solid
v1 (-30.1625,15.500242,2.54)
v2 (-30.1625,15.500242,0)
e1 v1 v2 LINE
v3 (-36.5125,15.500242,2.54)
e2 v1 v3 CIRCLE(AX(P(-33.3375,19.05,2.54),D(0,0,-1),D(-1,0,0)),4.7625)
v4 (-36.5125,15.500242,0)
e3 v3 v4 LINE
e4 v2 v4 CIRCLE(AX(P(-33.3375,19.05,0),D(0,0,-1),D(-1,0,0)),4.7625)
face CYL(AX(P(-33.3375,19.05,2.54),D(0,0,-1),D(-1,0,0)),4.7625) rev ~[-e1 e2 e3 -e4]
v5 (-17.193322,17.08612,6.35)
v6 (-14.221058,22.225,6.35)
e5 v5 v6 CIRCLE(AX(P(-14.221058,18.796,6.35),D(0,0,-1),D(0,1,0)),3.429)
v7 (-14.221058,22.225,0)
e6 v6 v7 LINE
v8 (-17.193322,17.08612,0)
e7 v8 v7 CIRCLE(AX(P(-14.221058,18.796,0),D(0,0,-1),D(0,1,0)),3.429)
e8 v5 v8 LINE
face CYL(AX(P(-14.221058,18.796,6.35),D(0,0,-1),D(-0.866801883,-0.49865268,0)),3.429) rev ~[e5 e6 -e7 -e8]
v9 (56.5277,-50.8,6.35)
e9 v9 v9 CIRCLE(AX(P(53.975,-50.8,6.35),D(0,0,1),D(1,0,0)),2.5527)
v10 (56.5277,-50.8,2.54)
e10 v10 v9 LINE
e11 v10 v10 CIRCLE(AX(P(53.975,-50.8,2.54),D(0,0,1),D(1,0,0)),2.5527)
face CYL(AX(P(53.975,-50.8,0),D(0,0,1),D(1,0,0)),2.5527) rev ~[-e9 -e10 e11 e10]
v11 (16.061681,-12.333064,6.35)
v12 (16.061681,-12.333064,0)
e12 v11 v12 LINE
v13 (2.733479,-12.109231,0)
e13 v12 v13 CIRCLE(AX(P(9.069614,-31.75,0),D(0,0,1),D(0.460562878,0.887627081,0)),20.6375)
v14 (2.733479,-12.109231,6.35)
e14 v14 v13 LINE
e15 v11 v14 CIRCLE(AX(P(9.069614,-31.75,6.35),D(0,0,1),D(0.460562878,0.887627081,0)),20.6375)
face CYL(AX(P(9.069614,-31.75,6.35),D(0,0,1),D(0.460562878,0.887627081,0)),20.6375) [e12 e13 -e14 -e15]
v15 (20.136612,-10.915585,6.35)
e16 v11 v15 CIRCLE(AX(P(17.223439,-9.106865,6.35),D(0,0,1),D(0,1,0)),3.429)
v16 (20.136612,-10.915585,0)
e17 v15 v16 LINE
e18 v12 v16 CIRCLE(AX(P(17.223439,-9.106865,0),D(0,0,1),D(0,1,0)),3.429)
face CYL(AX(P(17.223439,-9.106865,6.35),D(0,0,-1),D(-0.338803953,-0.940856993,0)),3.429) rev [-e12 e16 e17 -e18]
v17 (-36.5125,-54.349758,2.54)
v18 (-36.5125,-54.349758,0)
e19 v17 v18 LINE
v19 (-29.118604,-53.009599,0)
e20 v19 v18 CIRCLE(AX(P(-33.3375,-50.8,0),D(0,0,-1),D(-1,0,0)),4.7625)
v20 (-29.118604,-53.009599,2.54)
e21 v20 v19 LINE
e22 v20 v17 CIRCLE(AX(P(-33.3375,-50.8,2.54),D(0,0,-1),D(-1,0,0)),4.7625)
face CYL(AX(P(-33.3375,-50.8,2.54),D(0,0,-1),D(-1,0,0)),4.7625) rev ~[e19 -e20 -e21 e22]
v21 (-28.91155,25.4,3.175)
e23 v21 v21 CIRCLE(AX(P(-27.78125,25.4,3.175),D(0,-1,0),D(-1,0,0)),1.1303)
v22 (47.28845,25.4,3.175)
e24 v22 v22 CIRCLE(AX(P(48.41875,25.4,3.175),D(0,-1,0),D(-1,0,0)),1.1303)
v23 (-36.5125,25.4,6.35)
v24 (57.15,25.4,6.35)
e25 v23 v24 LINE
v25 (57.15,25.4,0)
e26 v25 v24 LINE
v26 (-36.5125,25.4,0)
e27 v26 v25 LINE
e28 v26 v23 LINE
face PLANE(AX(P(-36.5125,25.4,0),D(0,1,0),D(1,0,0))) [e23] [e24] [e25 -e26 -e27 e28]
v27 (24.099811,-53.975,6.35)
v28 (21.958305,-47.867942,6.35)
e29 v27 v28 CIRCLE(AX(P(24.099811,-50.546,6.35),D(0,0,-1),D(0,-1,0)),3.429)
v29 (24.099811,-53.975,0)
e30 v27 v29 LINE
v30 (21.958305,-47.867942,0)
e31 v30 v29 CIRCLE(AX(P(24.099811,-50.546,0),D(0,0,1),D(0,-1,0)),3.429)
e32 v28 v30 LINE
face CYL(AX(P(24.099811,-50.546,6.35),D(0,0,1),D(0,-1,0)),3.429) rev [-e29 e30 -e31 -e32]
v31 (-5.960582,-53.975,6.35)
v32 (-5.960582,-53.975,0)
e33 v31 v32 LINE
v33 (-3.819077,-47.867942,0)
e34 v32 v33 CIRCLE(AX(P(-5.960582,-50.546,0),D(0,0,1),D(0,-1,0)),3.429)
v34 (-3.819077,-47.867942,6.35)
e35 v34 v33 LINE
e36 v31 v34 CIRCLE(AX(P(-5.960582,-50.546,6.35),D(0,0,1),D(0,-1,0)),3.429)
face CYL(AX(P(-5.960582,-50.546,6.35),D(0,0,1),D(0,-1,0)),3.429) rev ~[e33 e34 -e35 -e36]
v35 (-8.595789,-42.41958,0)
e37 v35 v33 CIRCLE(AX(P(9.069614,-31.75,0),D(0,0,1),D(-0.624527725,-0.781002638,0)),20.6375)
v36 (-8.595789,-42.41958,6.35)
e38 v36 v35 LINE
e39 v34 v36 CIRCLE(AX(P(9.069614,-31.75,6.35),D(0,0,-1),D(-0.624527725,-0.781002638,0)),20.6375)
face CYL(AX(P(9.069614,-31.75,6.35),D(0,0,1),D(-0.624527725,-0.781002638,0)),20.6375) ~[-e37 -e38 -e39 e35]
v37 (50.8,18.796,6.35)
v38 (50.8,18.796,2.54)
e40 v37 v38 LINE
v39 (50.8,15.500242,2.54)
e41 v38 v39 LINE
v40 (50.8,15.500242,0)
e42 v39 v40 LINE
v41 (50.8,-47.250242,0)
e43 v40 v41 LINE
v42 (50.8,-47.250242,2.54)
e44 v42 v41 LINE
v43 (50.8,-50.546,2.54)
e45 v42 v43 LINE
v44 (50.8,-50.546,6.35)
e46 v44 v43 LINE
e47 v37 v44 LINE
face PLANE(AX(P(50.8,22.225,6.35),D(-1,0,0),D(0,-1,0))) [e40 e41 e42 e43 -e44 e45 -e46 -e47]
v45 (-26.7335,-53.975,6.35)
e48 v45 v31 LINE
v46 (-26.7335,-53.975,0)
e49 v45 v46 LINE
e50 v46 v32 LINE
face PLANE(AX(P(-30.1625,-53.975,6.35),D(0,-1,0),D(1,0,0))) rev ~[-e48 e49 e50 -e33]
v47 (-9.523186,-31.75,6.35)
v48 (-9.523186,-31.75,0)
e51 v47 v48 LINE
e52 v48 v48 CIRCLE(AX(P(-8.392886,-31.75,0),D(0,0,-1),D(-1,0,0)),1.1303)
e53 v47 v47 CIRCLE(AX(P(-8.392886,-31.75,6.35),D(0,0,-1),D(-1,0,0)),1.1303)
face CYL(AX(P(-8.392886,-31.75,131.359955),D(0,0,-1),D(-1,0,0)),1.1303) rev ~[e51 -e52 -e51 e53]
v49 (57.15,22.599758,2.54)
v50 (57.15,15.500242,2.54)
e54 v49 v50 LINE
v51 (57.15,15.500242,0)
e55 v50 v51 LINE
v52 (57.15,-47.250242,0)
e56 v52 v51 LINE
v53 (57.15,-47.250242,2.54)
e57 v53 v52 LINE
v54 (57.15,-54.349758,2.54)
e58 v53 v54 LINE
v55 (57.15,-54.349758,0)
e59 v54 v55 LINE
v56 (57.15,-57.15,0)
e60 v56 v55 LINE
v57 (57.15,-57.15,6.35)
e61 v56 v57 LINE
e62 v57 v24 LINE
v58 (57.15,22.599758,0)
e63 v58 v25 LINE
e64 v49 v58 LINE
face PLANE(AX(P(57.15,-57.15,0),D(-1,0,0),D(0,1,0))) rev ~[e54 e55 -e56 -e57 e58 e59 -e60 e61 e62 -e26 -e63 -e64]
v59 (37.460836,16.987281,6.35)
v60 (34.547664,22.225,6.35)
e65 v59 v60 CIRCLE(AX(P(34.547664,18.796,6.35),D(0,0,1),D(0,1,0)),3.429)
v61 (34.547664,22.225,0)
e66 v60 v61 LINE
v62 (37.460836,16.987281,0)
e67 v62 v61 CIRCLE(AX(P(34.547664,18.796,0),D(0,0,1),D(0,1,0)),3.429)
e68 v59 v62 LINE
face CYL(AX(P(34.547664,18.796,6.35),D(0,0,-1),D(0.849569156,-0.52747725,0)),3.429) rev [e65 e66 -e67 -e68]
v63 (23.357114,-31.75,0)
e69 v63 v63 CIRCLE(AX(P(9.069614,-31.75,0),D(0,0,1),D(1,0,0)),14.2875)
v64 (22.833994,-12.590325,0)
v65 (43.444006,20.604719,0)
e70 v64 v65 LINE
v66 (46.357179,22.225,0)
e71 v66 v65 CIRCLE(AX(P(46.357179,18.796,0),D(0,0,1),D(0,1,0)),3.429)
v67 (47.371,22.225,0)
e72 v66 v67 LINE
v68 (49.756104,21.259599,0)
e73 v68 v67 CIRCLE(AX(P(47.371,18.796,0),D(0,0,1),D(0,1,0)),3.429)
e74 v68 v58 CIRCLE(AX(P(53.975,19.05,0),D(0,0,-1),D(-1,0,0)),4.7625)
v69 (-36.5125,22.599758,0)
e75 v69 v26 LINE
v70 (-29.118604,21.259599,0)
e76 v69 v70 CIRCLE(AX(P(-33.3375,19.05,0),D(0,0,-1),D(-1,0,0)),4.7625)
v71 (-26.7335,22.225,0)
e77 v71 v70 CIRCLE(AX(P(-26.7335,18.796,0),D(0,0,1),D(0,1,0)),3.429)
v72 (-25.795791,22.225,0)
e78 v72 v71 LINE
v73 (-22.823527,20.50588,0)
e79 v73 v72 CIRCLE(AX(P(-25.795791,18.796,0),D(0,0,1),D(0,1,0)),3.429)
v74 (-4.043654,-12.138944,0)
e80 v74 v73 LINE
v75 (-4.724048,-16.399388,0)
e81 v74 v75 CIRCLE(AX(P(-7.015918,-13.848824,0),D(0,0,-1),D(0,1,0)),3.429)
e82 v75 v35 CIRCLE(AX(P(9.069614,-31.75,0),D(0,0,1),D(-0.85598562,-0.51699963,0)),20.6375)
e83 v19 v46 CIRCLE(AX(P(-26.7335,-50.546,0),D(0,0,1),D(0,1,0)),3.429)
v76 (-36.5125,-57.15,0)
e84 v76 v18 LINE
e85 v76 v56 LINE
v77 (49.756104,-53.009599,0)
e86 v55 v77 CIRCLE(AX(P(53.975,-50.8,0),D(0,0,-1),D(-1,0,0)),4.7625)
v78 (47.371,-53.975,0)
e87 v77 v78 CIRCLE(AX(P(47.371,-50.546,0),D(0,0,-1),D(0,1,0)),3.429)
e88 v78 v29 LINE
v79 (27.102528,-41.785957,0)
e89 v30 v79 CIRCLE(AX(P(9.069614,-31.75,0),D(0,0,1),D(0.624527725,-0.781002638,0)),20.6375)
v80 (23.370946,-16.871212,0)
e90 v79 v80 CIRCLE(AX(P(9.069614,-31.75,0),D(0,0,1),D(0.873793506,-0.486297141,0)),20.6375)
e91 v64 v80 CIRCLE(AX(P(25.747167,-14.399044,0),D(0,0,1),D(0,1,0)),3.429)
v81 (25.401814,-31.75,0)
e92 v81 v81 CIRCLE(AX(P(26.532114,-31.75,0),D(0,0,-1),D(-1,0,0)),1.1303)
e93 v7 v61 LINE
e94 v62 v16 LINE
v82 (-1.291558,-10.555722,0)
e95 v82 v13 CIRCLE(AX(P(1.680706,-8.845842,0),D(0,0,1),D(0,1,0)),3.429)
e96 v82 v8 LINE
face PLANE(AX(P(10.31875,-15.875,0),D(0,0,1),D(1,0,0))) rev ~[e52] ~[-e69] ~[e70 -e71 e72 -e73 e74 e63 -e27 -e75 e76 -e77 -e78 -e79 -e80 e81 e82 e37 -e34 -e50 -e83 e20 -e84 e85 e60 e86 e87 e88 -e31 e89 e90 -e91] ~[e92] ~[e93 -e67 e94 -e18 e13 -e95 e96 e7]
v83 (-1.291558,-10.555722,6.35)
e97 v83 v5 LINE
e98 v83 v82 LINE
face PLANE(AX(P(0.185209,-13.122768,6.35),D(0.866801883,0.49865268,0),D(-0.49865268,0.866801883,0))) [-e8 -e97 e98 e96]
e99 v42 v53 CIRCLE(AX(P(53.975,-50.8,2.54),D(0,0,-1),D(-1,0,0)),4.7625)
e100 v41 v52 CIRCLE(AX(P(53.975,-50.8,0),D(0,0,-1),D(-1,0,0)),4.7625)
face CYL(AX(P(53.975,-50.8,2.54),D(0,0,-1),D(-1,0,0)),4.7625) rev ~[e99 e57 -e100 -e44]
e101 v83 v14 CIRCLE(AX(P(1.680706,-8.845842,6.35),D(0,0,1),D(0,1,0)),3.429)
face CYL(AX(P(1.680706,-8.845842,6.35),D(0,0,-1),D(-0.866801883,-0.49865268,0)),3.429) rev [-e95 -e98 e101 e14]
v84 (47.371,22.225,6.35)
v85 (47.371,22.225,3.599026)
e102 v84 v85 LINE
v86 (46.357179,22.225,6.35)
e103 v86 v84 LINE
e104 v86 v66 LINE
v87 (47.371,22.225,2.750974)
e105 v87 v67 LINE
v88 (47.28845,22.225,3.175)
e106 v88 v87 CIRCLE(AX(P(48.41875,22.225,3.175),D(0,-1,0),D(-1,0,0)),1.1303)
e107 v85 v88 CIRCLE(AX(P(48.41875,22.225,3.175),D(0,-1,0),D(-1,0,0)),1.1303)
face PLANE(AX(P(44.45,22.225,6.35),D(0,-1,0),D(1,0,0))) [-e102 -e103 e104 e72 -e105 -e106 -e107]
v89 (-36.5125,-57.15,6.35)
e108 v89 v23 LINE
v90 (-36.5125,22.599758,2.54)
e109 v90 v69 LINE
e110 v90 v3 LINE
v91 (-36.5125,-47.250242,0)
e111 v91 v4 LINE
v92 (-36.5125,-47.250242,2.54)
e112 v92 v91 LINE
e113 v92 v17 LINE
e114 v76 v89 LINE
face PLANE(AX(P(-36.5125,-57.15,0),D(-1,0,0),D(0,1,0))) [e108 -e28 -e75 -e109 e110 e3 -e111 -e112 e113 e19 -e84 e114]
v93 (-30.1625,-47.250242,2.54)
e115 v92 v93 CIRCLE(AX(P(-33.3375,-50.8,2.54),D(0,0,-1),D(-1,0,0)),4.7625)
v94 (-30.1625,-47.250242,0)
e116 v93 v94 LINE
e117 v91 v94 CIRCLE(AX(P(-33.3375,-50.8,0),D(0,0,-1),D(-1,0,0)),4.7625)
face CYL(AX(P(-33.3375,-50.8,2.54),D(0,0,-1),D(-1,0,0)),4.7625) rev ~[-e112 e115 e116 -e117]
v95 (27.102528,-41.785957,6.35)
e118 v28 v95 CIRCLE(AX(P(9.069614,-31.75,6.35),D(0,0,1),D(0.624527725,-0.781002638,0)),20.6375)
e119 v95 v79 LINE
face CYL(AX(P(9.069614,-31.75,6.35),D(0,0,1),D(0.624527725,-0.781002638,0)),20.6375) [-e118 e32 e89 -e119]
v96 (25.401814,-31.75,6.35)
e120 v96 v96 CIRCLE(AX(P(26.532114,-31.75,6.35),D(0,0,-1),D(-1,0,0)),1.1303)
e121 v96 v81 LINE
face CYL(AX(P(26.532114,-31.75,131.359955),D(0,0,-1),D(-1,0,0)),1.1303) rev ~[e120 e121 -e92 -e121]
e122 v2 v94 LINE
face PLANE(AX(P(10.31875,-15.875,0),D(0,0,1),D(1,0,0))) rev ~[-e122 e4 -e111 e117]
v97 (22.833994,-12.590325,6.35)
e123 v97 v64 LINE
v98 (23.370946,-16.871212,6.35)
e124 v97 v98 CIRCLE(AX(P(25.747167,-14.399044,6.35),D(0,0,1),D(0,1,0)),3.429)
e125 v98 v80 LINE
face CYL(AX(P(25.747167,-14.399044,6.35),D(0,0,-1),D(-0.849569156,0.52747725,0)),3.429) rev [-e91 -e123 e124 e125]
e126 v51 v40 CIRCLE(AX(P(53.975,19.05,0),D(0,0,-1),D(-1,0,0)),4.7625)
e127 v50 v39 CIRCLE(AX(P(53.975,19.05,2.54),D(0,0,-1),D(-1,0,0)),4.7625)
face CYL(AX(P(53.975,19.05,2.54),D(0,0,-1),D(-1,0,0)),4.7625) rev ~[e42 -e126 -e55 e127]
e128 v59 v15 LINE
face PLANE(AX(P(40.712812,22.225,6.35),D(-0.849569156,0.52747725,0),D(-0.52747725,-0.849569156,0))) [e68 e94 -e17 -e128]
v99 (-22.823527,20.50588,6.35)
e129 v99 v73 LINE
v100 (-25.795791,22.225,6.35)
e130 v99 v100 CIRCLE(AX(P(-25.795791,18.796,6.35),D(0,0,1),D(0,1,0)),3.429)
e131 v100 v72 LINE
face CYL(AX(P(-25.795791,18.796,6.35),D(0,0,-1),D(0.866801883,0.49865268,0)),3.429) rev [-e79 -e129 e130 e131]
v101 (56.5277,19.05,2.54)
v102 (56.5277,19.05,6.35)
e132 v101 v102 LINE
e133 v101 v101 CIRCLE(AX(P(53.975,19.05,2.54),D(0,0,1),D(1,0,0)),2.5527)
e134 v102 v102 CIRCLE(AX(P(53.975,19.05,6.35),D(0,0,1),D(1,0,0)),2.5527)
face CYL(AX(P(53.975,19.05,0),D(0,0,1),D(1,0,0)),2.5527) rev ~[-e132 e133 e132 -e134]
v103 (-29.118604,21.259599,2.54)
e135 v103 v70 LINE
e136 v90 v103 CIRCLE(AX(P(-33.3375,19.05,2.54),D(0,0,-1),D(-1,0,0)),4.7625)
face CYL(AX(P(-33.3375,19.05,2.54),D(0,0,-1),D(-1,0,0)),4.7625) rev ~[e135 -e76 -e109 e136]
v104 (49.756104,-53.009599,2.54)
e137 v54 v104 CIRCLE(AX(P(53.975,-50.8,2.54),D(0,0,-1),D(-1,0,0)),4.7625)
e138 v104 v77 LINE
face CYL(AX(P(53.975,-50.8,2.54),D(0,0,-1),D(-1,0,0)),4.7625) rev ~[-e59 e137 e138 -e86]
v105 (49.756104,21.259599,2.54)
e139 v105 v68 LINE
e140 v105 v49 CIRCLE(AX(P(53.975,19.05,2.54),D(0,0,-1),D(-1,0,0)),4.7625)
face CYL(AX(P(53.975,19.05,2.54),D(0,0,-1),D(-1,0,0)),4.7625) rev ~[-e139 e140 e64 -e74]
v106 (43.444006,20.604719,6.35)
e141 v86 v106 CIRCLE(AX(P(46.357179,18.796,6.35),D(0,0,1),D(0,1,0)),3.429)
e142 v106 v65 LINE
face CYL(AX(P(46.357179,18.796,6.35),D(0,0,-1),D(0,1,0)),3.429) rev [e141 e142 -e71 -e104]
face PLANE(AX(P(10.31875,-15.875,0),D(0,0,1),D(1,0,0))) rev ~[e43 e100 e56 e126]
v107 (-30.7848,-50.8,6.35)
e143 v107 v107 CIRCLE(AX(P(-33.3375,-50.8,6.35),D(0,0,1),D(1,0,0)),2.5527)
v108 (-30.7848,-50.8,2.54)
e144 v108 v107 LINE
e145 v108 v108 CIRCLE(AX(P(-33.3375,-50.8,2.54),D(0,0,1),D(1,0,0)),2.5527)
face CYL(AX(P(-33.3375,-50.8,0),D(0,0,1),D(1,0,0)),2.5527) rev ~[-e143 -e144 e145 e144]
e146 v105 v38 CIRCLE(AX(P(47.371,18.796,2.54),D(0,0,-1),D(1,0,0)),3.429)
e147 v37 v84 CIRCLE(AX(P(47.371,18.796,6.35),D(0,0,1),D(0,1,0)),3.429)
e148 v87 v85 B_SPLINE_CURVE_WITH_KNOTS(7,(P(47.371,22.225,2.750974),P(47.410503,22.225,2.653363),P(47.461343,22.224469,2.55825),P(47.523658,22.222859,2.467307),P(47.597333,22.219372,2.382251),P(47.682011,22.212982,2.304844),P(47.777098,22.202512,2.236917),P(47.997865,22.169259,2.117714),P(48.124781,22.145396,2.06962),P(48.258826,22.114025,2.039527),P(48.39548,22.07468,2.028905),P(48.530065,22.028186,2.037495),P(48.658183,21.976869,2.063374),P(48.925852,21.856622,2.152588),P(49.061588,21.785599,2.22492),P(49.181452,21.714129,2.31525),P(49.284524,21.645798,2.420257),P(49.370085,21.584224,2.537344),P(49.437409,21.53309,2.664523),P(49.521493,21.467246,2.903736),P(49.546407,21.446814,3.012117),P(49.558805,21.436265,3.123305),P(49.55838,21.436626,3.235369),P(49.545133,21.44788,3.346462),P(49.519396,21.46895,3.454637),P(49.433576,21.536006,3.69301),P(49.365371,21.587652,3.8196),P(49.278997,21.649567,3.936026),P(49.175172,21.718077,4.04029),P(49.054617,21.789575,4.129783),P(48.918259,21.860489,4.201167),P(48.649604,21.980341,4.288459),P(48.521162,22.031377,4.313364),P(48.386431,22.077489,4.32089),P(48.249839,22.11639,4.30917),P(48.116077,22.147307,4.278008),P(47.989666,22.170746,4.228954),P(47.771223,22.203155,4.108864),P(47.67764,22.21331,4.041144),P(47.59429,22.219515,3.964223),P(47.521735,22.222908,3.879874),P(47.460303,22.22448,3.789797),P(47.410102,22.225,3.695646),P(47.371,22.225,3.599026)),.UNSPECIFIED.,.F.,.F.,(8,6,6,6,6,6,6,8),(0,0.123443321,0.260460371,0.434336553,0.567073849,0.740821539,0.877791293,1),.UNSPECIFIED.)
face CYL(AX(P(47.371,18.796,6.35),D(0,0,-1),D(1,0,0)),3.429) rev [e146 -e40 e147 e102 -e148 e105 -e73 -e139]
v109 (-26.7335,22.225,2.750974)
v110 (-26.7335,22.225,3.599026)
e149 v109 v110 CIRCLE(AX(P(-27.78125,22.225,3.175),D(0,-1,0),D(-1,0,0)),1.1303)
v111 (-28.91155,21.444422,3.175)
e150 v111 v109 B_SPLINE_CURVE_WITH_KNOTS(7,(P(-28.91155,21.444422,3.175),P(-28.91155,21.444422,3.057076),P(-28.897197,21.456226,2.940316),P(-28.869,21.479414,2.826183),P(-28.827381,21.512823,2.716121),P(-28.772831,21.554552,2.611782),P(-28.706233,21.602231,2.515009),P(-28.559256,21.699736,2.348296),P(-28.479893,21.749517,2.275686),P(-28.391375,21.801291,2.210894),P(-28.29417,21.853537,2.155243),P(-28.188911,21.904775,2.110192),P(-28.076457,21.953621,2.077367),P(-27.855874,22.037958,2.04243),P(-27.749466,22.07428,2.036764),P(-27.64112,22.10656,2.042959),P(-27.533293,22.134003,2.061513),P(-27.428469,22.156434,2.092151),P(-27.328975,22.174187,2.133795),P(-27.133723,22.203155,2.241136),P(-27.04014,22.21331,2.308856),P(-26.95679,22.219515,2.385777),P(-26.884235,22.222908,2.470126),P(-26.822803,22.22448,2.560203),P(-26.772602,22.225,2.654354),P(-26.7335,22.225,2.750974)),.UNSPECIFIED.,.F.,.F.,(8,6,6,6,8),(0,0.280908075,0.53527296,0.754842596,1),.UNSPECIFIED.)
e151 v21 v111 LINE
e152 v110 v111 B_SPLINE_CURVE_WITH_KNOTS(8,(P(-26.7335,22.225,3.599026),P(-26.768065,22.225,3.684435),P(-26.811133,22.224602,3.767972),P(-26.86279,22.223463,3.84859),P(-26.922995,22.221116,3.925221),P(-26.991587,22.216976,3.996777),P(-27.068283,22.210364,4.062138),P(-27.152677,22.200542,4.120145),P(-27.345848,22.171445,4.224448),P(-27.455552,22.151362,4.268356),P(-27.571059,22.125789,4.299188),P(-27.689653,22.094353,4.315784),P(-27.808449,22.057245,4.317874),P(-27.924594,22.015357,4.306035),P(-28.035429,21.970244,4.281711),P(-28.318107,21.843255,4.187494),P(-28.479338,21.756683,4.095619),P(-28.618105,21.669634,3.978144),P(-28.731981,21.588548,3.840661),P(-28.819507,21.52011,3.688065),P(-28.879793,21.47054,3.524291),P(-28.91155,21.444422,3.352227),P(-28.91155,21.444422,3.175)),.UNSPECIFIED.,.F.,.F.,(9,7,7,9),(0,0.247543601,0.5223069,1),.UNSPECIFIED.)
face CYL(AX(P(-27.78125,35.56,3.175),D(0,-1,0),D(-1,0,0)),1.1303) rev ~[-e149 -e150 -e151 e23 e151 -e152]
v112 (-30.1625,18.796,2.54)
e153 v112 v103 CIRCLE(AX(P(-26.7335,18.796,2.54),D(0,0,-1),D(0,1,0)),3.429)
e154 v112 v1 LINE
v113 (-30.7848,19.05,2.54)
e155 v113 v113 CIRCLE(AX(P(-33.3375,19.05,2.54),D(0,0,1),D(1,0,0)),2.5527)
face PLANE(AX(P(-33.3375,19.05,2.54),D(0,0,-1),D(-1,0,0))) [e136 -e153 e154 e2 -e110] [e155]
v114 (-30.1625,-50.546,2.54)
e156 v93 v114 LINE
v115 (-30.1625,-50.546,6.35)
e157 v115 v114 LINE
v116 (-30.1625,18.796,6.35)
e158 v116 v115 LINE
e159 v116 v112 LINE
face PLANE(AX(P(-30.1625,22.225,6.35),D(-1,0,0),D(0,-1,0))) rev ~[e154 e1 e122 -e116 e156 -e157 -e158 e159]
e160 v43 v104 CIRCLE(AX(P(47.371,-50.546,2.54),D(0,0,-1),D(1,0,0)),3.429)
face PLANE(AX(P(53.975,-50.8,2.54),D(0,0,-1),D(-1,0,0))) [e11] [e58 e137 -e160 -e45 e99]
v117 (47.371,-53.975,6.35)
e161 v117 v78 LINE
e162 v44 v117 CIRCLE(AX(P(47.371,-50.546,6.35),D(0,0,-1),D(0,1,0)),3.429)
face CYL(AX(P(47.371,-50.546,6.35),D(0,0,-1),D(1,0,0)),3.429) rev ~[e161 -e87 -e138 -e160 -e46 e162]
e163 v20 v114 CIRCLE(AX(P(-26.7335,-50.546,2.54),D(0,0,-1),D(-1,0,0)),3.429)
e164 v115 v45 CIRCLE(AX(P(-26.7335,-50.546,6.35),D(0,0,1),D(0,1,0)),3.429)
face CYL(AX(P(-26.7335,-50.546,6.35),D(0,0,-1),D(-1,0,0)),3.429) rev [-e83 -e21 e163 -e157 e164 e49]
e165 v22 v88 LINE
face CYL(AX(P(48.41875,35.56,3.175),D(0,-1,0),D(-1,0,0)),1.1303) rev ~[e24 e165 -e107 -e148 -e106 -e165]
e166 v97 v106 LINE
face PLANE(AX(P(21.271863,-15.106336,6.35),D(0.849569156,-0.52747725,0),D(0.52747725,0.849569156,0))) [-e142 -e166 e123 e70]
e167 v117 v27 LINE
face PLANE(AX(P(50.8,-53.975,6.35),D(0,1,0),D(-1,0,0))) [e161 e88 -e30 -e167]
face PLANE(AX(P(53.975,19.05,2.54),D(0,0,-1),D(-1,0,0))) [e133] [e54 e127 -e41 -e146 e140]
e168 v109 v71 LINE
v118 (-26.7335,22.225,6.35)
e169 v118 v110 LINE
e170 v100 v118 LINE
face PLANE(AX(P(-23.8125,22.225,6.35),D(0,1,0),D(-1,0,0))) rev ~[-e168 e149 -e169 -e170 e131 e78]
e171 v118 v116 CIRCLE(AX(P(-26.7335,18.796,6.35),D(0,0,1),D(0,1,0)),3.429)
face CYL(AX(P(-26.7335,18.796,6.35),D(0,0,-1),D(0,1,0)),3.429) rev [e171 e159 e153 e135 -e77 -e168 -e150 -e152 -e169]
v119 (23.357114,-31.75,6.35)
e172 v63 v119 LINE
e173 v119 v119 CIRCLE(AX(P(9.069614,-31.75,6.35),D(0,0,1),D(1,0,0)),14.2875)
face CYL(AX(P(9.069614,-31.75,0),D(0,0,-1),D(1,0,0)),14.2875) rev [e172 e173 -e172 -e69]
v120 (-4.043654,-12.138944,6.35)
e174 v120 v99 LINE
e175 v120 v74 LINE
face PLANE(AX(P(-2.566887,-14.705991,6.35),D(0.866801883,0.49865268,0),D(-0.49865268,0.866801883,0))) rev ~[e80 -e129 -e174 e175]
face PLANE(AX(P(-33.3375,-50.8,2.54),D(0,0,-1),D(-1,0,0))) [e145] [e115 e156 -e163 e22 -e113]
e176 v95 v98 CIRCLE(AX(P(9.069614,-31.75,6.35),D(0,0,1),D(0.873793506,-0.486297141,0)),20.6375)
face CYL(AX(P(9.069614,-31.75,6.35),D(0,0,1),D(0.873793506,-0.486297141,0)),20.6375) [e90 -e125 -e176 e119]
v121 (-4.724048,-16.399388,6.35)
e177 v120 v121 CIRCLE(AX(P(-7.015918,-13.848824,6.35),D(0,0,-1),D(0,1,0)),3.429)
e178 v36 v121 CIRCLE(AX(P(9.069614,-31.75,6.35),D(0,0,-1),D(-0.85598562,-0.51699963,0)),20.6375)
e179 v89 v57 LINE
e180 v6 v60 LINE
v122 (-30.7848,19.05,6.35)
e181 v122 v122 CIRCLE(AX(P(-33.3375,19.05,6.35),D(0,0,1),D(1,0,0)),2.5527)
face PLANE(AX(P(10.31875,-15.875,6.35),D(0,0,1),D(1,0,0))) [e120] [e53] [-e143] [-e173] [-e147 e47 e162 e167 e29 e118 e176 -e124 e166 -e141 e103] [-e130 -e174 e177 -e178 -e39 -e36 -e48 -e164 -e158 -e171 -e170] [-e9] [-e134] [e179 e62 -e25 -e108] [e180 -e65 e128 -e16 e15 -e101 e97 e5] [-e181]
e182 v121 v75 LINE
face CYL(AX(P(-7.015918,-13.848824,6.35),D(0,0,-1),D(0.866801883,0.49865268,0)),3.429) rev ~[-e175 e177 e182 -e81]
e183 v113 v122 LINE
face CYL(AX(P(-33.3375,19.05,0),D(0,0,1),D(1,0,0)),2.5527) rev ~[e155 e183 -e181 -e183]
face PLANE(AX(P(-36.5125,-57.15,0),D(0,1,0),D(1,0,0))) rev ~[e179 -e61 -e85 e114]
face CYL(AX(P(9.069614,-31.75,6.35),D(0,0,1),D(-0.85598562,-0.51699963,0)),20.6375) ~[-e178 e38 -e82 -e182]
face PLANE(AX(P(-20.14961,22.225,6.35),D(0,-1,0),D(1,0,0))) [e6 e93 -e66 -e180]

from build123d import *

# Parameters (mm, degrees)
SKETCH1_W                                           = 93.6625
SKETCH1_H                                           = 82.55
SKETCH1_R                                           = 14.2875
BOSS_EXTRUDE1_DEPTH                                 = 6.35
F_4_40_TAPPED_HOLE2_D                               = 2.2606
CUT_EXTRUDE1_DEPTH                                  = 7.35
FILLET1_R                                           = 3.429
CBORE_FOR_10_BINDING_HEAD_MACHINE_SCREW_D           = 5.1054
CBORE_FOR_10_BINDING_HEAD_MACHINE_SCREW_CBORE_D     = 9.525
CBORE_FOR_10_BINDING_HEAD_MACHINE_SCREW_CBORE_DEPTH = 2.54
F_4_40_TAPPED_HOLE1_D                               = 2.2606
F_4_40_TAPPED_HOLE1_DEPTH                           = 10.16
F_4_40_TAPPED_HOLE1_TIP                             = 0.679152758


with BuildPart() as part:
    # Sketch1 → Boss-Extrude1 (new body)
    with BuildSketch(Plane.XY):
        with Locations((10.31875, -15.875)):
            Rectangle(SKETCH1_W, SKETCH1_H)
        with Locations((9.069614104, -31.75)):
            Circle(SKETCH1_R, mode=Mode.SUBTRACT)
    extrude(amount=BOSS_EXTRUDE1_DEPTH)

    # #4-40 Tapped Hole2 (through all)
    with Locations(Plane.XY.offset(6.35)):
        with Locations((26.532114104, -31.75), (-8.392885896, -31.75)):
            Hole(F_4_40_TAPPED_HOLE2_D / 2)

    # Sketch2 → Cut-Extrude1 (cut, through all)
    with BuildSketch(Plane.XY.offset(6.35)):
        with BuildLine():
            Line((-20.149609941, 22.225), (40.712811593, 22.225))
            Line((40.712811593, 22.225), (18.574480492, -13.431596107))
            ThreePointArc((18.574480492, -13.431596107), (9.416149426, -11.115409635), (0.185209158, -13.122768456))
            Line((0.185209158, -13.122768456), (-20.149609941, 22.225))
        make_face()
        with BuildLine():
            Line((-2.566886821, -14.705990716), (-23.8125, 22.225))
            Line((-23.8125, 22.225), (-30.1625, 22.225))
            Line((-30.1625, 22.225), (-30.1625, -53.975))
            Line((-30.1625, -53.975), (-23.8125, -53.975))
            Line((-23.8125, -53.975), (-5.960582377, -53.975))
            ThreePointArc((-5.960582377, -53.975), (-2.724759294, -51.680676155), (-3.819076809, -47.867941953))
            ThreePointArc((-3.819076809, -47.867941953), (-6.448418302, -45.355038643), (-8.595789137, -42.419579868))
            ThreePointArc((-8.595789137, -42.419579868), (-11.096227135, -27.363058767), (-2.566886821, -14.705990716))
        make_face()
        with BuildLine():
            Line((50.8, -53.975), (44.45, -53.975))
            Line((44.45, -53.975), (24.099810585, -53.975))
            ThreePointArc((24.099810585, -53.975), (20.863987502, -51.680676155), (21.958305018, -47.867941953))
            ThreePointArc((21.958305018, -47.867941953), (24.826645515, -45.077504169), (27.102527574, -41.785957255))
            ThreePointArc((27.102527574, -41.785957255), (29.231255822, -27.343798747), (21.271862562, -15.106336376))
            Line((21.271862562, -15.106336376), (44.45, 22.225))
            Line((44.45, 22.225), (50.8, 22.225))
            Line((50.8, 22.225), (50.8, -53.975))
        make_face()
    extrude(amount=-CUT_EXTRUDE1_DEPTH, mode=Mode.SUBTRACT)

    # Fillet1
    fillet1_edges = [part.edges().sort_by_distance(p)[0] for p in [
        (0.185209158, -13.122768456, 3.175),
        (-20.149609941, 22.225, 3.175),
        (40.712811593, 22.225, 3.175),
        (18.574480492, -13.431596107, 3.175),
        (-30.1625, 22.225, 3.175),
        (-23.8125, 22.225, 3.175),
        (-2.566886821, -14.705990716, 3.175),
        (-30.1625, -53.975, 3.175),
        (50.8, 22.225, 3.175),
        (50.8, -53.975, 3.175),
        (21.271862562, -15.106336376, 3.175),
        (44.45, 22.225, 3.175),
    ]]
    fillet(fillet1_edges, radius=FILLET1_R)

    # CBORE for #10 Binding Head Machine Screw1 (through all)
    with Locations(Plane(origin=(0, 0, 0), x_dir=(-1, 0, 0), z_dir=(0, 0, -1))):
        with Locations((33.3375, 19.05), (-53.975, 19.05), (-53.975, -50.8), (33.3375, -50.8)):
            CounterBoreHole(CBORE_FOR_10_BINDING_HEAD_MACHINE_SCREW_D / 2, CBORE_FOR_10_BINDING_HEAD_MACHINE_SCREW_CBORE_D / 2, CBORE_FOR_10_BINDING_HEAD_MACHINE_SCREW_CBORE_DEPTH)

    # #4-40 Tapped Hole1
    with Locations(Plane(origin=(0, 25.4, 90.4875), x_dir=(1, 0, 0), z_dir=(0, 1, 0))):
        with Locations((48.41875, 87.3125), (-27.78125, 87.3125), (-27.78125, 3.175), (48.41875, 3.175)):
            Hole(F_4_40_TAPPED_HOLE1_D / 2, depth=F_4_40_TAPPED_HOLE1_DEPTH)
            with Locations((0, 0, -(F_4_40_TAPPED_HOLE1_DEPTH + F_4_40_TAPPED_HOLE1_TIP / 2))):  # 118° drill point
                Cone(0, F_4_40_TAPPED_HOLE1_D / 2, F_4_40_TAPPED_HOLE1_TIP, mode=Mode.SUBTRACT)


solid = part.part
